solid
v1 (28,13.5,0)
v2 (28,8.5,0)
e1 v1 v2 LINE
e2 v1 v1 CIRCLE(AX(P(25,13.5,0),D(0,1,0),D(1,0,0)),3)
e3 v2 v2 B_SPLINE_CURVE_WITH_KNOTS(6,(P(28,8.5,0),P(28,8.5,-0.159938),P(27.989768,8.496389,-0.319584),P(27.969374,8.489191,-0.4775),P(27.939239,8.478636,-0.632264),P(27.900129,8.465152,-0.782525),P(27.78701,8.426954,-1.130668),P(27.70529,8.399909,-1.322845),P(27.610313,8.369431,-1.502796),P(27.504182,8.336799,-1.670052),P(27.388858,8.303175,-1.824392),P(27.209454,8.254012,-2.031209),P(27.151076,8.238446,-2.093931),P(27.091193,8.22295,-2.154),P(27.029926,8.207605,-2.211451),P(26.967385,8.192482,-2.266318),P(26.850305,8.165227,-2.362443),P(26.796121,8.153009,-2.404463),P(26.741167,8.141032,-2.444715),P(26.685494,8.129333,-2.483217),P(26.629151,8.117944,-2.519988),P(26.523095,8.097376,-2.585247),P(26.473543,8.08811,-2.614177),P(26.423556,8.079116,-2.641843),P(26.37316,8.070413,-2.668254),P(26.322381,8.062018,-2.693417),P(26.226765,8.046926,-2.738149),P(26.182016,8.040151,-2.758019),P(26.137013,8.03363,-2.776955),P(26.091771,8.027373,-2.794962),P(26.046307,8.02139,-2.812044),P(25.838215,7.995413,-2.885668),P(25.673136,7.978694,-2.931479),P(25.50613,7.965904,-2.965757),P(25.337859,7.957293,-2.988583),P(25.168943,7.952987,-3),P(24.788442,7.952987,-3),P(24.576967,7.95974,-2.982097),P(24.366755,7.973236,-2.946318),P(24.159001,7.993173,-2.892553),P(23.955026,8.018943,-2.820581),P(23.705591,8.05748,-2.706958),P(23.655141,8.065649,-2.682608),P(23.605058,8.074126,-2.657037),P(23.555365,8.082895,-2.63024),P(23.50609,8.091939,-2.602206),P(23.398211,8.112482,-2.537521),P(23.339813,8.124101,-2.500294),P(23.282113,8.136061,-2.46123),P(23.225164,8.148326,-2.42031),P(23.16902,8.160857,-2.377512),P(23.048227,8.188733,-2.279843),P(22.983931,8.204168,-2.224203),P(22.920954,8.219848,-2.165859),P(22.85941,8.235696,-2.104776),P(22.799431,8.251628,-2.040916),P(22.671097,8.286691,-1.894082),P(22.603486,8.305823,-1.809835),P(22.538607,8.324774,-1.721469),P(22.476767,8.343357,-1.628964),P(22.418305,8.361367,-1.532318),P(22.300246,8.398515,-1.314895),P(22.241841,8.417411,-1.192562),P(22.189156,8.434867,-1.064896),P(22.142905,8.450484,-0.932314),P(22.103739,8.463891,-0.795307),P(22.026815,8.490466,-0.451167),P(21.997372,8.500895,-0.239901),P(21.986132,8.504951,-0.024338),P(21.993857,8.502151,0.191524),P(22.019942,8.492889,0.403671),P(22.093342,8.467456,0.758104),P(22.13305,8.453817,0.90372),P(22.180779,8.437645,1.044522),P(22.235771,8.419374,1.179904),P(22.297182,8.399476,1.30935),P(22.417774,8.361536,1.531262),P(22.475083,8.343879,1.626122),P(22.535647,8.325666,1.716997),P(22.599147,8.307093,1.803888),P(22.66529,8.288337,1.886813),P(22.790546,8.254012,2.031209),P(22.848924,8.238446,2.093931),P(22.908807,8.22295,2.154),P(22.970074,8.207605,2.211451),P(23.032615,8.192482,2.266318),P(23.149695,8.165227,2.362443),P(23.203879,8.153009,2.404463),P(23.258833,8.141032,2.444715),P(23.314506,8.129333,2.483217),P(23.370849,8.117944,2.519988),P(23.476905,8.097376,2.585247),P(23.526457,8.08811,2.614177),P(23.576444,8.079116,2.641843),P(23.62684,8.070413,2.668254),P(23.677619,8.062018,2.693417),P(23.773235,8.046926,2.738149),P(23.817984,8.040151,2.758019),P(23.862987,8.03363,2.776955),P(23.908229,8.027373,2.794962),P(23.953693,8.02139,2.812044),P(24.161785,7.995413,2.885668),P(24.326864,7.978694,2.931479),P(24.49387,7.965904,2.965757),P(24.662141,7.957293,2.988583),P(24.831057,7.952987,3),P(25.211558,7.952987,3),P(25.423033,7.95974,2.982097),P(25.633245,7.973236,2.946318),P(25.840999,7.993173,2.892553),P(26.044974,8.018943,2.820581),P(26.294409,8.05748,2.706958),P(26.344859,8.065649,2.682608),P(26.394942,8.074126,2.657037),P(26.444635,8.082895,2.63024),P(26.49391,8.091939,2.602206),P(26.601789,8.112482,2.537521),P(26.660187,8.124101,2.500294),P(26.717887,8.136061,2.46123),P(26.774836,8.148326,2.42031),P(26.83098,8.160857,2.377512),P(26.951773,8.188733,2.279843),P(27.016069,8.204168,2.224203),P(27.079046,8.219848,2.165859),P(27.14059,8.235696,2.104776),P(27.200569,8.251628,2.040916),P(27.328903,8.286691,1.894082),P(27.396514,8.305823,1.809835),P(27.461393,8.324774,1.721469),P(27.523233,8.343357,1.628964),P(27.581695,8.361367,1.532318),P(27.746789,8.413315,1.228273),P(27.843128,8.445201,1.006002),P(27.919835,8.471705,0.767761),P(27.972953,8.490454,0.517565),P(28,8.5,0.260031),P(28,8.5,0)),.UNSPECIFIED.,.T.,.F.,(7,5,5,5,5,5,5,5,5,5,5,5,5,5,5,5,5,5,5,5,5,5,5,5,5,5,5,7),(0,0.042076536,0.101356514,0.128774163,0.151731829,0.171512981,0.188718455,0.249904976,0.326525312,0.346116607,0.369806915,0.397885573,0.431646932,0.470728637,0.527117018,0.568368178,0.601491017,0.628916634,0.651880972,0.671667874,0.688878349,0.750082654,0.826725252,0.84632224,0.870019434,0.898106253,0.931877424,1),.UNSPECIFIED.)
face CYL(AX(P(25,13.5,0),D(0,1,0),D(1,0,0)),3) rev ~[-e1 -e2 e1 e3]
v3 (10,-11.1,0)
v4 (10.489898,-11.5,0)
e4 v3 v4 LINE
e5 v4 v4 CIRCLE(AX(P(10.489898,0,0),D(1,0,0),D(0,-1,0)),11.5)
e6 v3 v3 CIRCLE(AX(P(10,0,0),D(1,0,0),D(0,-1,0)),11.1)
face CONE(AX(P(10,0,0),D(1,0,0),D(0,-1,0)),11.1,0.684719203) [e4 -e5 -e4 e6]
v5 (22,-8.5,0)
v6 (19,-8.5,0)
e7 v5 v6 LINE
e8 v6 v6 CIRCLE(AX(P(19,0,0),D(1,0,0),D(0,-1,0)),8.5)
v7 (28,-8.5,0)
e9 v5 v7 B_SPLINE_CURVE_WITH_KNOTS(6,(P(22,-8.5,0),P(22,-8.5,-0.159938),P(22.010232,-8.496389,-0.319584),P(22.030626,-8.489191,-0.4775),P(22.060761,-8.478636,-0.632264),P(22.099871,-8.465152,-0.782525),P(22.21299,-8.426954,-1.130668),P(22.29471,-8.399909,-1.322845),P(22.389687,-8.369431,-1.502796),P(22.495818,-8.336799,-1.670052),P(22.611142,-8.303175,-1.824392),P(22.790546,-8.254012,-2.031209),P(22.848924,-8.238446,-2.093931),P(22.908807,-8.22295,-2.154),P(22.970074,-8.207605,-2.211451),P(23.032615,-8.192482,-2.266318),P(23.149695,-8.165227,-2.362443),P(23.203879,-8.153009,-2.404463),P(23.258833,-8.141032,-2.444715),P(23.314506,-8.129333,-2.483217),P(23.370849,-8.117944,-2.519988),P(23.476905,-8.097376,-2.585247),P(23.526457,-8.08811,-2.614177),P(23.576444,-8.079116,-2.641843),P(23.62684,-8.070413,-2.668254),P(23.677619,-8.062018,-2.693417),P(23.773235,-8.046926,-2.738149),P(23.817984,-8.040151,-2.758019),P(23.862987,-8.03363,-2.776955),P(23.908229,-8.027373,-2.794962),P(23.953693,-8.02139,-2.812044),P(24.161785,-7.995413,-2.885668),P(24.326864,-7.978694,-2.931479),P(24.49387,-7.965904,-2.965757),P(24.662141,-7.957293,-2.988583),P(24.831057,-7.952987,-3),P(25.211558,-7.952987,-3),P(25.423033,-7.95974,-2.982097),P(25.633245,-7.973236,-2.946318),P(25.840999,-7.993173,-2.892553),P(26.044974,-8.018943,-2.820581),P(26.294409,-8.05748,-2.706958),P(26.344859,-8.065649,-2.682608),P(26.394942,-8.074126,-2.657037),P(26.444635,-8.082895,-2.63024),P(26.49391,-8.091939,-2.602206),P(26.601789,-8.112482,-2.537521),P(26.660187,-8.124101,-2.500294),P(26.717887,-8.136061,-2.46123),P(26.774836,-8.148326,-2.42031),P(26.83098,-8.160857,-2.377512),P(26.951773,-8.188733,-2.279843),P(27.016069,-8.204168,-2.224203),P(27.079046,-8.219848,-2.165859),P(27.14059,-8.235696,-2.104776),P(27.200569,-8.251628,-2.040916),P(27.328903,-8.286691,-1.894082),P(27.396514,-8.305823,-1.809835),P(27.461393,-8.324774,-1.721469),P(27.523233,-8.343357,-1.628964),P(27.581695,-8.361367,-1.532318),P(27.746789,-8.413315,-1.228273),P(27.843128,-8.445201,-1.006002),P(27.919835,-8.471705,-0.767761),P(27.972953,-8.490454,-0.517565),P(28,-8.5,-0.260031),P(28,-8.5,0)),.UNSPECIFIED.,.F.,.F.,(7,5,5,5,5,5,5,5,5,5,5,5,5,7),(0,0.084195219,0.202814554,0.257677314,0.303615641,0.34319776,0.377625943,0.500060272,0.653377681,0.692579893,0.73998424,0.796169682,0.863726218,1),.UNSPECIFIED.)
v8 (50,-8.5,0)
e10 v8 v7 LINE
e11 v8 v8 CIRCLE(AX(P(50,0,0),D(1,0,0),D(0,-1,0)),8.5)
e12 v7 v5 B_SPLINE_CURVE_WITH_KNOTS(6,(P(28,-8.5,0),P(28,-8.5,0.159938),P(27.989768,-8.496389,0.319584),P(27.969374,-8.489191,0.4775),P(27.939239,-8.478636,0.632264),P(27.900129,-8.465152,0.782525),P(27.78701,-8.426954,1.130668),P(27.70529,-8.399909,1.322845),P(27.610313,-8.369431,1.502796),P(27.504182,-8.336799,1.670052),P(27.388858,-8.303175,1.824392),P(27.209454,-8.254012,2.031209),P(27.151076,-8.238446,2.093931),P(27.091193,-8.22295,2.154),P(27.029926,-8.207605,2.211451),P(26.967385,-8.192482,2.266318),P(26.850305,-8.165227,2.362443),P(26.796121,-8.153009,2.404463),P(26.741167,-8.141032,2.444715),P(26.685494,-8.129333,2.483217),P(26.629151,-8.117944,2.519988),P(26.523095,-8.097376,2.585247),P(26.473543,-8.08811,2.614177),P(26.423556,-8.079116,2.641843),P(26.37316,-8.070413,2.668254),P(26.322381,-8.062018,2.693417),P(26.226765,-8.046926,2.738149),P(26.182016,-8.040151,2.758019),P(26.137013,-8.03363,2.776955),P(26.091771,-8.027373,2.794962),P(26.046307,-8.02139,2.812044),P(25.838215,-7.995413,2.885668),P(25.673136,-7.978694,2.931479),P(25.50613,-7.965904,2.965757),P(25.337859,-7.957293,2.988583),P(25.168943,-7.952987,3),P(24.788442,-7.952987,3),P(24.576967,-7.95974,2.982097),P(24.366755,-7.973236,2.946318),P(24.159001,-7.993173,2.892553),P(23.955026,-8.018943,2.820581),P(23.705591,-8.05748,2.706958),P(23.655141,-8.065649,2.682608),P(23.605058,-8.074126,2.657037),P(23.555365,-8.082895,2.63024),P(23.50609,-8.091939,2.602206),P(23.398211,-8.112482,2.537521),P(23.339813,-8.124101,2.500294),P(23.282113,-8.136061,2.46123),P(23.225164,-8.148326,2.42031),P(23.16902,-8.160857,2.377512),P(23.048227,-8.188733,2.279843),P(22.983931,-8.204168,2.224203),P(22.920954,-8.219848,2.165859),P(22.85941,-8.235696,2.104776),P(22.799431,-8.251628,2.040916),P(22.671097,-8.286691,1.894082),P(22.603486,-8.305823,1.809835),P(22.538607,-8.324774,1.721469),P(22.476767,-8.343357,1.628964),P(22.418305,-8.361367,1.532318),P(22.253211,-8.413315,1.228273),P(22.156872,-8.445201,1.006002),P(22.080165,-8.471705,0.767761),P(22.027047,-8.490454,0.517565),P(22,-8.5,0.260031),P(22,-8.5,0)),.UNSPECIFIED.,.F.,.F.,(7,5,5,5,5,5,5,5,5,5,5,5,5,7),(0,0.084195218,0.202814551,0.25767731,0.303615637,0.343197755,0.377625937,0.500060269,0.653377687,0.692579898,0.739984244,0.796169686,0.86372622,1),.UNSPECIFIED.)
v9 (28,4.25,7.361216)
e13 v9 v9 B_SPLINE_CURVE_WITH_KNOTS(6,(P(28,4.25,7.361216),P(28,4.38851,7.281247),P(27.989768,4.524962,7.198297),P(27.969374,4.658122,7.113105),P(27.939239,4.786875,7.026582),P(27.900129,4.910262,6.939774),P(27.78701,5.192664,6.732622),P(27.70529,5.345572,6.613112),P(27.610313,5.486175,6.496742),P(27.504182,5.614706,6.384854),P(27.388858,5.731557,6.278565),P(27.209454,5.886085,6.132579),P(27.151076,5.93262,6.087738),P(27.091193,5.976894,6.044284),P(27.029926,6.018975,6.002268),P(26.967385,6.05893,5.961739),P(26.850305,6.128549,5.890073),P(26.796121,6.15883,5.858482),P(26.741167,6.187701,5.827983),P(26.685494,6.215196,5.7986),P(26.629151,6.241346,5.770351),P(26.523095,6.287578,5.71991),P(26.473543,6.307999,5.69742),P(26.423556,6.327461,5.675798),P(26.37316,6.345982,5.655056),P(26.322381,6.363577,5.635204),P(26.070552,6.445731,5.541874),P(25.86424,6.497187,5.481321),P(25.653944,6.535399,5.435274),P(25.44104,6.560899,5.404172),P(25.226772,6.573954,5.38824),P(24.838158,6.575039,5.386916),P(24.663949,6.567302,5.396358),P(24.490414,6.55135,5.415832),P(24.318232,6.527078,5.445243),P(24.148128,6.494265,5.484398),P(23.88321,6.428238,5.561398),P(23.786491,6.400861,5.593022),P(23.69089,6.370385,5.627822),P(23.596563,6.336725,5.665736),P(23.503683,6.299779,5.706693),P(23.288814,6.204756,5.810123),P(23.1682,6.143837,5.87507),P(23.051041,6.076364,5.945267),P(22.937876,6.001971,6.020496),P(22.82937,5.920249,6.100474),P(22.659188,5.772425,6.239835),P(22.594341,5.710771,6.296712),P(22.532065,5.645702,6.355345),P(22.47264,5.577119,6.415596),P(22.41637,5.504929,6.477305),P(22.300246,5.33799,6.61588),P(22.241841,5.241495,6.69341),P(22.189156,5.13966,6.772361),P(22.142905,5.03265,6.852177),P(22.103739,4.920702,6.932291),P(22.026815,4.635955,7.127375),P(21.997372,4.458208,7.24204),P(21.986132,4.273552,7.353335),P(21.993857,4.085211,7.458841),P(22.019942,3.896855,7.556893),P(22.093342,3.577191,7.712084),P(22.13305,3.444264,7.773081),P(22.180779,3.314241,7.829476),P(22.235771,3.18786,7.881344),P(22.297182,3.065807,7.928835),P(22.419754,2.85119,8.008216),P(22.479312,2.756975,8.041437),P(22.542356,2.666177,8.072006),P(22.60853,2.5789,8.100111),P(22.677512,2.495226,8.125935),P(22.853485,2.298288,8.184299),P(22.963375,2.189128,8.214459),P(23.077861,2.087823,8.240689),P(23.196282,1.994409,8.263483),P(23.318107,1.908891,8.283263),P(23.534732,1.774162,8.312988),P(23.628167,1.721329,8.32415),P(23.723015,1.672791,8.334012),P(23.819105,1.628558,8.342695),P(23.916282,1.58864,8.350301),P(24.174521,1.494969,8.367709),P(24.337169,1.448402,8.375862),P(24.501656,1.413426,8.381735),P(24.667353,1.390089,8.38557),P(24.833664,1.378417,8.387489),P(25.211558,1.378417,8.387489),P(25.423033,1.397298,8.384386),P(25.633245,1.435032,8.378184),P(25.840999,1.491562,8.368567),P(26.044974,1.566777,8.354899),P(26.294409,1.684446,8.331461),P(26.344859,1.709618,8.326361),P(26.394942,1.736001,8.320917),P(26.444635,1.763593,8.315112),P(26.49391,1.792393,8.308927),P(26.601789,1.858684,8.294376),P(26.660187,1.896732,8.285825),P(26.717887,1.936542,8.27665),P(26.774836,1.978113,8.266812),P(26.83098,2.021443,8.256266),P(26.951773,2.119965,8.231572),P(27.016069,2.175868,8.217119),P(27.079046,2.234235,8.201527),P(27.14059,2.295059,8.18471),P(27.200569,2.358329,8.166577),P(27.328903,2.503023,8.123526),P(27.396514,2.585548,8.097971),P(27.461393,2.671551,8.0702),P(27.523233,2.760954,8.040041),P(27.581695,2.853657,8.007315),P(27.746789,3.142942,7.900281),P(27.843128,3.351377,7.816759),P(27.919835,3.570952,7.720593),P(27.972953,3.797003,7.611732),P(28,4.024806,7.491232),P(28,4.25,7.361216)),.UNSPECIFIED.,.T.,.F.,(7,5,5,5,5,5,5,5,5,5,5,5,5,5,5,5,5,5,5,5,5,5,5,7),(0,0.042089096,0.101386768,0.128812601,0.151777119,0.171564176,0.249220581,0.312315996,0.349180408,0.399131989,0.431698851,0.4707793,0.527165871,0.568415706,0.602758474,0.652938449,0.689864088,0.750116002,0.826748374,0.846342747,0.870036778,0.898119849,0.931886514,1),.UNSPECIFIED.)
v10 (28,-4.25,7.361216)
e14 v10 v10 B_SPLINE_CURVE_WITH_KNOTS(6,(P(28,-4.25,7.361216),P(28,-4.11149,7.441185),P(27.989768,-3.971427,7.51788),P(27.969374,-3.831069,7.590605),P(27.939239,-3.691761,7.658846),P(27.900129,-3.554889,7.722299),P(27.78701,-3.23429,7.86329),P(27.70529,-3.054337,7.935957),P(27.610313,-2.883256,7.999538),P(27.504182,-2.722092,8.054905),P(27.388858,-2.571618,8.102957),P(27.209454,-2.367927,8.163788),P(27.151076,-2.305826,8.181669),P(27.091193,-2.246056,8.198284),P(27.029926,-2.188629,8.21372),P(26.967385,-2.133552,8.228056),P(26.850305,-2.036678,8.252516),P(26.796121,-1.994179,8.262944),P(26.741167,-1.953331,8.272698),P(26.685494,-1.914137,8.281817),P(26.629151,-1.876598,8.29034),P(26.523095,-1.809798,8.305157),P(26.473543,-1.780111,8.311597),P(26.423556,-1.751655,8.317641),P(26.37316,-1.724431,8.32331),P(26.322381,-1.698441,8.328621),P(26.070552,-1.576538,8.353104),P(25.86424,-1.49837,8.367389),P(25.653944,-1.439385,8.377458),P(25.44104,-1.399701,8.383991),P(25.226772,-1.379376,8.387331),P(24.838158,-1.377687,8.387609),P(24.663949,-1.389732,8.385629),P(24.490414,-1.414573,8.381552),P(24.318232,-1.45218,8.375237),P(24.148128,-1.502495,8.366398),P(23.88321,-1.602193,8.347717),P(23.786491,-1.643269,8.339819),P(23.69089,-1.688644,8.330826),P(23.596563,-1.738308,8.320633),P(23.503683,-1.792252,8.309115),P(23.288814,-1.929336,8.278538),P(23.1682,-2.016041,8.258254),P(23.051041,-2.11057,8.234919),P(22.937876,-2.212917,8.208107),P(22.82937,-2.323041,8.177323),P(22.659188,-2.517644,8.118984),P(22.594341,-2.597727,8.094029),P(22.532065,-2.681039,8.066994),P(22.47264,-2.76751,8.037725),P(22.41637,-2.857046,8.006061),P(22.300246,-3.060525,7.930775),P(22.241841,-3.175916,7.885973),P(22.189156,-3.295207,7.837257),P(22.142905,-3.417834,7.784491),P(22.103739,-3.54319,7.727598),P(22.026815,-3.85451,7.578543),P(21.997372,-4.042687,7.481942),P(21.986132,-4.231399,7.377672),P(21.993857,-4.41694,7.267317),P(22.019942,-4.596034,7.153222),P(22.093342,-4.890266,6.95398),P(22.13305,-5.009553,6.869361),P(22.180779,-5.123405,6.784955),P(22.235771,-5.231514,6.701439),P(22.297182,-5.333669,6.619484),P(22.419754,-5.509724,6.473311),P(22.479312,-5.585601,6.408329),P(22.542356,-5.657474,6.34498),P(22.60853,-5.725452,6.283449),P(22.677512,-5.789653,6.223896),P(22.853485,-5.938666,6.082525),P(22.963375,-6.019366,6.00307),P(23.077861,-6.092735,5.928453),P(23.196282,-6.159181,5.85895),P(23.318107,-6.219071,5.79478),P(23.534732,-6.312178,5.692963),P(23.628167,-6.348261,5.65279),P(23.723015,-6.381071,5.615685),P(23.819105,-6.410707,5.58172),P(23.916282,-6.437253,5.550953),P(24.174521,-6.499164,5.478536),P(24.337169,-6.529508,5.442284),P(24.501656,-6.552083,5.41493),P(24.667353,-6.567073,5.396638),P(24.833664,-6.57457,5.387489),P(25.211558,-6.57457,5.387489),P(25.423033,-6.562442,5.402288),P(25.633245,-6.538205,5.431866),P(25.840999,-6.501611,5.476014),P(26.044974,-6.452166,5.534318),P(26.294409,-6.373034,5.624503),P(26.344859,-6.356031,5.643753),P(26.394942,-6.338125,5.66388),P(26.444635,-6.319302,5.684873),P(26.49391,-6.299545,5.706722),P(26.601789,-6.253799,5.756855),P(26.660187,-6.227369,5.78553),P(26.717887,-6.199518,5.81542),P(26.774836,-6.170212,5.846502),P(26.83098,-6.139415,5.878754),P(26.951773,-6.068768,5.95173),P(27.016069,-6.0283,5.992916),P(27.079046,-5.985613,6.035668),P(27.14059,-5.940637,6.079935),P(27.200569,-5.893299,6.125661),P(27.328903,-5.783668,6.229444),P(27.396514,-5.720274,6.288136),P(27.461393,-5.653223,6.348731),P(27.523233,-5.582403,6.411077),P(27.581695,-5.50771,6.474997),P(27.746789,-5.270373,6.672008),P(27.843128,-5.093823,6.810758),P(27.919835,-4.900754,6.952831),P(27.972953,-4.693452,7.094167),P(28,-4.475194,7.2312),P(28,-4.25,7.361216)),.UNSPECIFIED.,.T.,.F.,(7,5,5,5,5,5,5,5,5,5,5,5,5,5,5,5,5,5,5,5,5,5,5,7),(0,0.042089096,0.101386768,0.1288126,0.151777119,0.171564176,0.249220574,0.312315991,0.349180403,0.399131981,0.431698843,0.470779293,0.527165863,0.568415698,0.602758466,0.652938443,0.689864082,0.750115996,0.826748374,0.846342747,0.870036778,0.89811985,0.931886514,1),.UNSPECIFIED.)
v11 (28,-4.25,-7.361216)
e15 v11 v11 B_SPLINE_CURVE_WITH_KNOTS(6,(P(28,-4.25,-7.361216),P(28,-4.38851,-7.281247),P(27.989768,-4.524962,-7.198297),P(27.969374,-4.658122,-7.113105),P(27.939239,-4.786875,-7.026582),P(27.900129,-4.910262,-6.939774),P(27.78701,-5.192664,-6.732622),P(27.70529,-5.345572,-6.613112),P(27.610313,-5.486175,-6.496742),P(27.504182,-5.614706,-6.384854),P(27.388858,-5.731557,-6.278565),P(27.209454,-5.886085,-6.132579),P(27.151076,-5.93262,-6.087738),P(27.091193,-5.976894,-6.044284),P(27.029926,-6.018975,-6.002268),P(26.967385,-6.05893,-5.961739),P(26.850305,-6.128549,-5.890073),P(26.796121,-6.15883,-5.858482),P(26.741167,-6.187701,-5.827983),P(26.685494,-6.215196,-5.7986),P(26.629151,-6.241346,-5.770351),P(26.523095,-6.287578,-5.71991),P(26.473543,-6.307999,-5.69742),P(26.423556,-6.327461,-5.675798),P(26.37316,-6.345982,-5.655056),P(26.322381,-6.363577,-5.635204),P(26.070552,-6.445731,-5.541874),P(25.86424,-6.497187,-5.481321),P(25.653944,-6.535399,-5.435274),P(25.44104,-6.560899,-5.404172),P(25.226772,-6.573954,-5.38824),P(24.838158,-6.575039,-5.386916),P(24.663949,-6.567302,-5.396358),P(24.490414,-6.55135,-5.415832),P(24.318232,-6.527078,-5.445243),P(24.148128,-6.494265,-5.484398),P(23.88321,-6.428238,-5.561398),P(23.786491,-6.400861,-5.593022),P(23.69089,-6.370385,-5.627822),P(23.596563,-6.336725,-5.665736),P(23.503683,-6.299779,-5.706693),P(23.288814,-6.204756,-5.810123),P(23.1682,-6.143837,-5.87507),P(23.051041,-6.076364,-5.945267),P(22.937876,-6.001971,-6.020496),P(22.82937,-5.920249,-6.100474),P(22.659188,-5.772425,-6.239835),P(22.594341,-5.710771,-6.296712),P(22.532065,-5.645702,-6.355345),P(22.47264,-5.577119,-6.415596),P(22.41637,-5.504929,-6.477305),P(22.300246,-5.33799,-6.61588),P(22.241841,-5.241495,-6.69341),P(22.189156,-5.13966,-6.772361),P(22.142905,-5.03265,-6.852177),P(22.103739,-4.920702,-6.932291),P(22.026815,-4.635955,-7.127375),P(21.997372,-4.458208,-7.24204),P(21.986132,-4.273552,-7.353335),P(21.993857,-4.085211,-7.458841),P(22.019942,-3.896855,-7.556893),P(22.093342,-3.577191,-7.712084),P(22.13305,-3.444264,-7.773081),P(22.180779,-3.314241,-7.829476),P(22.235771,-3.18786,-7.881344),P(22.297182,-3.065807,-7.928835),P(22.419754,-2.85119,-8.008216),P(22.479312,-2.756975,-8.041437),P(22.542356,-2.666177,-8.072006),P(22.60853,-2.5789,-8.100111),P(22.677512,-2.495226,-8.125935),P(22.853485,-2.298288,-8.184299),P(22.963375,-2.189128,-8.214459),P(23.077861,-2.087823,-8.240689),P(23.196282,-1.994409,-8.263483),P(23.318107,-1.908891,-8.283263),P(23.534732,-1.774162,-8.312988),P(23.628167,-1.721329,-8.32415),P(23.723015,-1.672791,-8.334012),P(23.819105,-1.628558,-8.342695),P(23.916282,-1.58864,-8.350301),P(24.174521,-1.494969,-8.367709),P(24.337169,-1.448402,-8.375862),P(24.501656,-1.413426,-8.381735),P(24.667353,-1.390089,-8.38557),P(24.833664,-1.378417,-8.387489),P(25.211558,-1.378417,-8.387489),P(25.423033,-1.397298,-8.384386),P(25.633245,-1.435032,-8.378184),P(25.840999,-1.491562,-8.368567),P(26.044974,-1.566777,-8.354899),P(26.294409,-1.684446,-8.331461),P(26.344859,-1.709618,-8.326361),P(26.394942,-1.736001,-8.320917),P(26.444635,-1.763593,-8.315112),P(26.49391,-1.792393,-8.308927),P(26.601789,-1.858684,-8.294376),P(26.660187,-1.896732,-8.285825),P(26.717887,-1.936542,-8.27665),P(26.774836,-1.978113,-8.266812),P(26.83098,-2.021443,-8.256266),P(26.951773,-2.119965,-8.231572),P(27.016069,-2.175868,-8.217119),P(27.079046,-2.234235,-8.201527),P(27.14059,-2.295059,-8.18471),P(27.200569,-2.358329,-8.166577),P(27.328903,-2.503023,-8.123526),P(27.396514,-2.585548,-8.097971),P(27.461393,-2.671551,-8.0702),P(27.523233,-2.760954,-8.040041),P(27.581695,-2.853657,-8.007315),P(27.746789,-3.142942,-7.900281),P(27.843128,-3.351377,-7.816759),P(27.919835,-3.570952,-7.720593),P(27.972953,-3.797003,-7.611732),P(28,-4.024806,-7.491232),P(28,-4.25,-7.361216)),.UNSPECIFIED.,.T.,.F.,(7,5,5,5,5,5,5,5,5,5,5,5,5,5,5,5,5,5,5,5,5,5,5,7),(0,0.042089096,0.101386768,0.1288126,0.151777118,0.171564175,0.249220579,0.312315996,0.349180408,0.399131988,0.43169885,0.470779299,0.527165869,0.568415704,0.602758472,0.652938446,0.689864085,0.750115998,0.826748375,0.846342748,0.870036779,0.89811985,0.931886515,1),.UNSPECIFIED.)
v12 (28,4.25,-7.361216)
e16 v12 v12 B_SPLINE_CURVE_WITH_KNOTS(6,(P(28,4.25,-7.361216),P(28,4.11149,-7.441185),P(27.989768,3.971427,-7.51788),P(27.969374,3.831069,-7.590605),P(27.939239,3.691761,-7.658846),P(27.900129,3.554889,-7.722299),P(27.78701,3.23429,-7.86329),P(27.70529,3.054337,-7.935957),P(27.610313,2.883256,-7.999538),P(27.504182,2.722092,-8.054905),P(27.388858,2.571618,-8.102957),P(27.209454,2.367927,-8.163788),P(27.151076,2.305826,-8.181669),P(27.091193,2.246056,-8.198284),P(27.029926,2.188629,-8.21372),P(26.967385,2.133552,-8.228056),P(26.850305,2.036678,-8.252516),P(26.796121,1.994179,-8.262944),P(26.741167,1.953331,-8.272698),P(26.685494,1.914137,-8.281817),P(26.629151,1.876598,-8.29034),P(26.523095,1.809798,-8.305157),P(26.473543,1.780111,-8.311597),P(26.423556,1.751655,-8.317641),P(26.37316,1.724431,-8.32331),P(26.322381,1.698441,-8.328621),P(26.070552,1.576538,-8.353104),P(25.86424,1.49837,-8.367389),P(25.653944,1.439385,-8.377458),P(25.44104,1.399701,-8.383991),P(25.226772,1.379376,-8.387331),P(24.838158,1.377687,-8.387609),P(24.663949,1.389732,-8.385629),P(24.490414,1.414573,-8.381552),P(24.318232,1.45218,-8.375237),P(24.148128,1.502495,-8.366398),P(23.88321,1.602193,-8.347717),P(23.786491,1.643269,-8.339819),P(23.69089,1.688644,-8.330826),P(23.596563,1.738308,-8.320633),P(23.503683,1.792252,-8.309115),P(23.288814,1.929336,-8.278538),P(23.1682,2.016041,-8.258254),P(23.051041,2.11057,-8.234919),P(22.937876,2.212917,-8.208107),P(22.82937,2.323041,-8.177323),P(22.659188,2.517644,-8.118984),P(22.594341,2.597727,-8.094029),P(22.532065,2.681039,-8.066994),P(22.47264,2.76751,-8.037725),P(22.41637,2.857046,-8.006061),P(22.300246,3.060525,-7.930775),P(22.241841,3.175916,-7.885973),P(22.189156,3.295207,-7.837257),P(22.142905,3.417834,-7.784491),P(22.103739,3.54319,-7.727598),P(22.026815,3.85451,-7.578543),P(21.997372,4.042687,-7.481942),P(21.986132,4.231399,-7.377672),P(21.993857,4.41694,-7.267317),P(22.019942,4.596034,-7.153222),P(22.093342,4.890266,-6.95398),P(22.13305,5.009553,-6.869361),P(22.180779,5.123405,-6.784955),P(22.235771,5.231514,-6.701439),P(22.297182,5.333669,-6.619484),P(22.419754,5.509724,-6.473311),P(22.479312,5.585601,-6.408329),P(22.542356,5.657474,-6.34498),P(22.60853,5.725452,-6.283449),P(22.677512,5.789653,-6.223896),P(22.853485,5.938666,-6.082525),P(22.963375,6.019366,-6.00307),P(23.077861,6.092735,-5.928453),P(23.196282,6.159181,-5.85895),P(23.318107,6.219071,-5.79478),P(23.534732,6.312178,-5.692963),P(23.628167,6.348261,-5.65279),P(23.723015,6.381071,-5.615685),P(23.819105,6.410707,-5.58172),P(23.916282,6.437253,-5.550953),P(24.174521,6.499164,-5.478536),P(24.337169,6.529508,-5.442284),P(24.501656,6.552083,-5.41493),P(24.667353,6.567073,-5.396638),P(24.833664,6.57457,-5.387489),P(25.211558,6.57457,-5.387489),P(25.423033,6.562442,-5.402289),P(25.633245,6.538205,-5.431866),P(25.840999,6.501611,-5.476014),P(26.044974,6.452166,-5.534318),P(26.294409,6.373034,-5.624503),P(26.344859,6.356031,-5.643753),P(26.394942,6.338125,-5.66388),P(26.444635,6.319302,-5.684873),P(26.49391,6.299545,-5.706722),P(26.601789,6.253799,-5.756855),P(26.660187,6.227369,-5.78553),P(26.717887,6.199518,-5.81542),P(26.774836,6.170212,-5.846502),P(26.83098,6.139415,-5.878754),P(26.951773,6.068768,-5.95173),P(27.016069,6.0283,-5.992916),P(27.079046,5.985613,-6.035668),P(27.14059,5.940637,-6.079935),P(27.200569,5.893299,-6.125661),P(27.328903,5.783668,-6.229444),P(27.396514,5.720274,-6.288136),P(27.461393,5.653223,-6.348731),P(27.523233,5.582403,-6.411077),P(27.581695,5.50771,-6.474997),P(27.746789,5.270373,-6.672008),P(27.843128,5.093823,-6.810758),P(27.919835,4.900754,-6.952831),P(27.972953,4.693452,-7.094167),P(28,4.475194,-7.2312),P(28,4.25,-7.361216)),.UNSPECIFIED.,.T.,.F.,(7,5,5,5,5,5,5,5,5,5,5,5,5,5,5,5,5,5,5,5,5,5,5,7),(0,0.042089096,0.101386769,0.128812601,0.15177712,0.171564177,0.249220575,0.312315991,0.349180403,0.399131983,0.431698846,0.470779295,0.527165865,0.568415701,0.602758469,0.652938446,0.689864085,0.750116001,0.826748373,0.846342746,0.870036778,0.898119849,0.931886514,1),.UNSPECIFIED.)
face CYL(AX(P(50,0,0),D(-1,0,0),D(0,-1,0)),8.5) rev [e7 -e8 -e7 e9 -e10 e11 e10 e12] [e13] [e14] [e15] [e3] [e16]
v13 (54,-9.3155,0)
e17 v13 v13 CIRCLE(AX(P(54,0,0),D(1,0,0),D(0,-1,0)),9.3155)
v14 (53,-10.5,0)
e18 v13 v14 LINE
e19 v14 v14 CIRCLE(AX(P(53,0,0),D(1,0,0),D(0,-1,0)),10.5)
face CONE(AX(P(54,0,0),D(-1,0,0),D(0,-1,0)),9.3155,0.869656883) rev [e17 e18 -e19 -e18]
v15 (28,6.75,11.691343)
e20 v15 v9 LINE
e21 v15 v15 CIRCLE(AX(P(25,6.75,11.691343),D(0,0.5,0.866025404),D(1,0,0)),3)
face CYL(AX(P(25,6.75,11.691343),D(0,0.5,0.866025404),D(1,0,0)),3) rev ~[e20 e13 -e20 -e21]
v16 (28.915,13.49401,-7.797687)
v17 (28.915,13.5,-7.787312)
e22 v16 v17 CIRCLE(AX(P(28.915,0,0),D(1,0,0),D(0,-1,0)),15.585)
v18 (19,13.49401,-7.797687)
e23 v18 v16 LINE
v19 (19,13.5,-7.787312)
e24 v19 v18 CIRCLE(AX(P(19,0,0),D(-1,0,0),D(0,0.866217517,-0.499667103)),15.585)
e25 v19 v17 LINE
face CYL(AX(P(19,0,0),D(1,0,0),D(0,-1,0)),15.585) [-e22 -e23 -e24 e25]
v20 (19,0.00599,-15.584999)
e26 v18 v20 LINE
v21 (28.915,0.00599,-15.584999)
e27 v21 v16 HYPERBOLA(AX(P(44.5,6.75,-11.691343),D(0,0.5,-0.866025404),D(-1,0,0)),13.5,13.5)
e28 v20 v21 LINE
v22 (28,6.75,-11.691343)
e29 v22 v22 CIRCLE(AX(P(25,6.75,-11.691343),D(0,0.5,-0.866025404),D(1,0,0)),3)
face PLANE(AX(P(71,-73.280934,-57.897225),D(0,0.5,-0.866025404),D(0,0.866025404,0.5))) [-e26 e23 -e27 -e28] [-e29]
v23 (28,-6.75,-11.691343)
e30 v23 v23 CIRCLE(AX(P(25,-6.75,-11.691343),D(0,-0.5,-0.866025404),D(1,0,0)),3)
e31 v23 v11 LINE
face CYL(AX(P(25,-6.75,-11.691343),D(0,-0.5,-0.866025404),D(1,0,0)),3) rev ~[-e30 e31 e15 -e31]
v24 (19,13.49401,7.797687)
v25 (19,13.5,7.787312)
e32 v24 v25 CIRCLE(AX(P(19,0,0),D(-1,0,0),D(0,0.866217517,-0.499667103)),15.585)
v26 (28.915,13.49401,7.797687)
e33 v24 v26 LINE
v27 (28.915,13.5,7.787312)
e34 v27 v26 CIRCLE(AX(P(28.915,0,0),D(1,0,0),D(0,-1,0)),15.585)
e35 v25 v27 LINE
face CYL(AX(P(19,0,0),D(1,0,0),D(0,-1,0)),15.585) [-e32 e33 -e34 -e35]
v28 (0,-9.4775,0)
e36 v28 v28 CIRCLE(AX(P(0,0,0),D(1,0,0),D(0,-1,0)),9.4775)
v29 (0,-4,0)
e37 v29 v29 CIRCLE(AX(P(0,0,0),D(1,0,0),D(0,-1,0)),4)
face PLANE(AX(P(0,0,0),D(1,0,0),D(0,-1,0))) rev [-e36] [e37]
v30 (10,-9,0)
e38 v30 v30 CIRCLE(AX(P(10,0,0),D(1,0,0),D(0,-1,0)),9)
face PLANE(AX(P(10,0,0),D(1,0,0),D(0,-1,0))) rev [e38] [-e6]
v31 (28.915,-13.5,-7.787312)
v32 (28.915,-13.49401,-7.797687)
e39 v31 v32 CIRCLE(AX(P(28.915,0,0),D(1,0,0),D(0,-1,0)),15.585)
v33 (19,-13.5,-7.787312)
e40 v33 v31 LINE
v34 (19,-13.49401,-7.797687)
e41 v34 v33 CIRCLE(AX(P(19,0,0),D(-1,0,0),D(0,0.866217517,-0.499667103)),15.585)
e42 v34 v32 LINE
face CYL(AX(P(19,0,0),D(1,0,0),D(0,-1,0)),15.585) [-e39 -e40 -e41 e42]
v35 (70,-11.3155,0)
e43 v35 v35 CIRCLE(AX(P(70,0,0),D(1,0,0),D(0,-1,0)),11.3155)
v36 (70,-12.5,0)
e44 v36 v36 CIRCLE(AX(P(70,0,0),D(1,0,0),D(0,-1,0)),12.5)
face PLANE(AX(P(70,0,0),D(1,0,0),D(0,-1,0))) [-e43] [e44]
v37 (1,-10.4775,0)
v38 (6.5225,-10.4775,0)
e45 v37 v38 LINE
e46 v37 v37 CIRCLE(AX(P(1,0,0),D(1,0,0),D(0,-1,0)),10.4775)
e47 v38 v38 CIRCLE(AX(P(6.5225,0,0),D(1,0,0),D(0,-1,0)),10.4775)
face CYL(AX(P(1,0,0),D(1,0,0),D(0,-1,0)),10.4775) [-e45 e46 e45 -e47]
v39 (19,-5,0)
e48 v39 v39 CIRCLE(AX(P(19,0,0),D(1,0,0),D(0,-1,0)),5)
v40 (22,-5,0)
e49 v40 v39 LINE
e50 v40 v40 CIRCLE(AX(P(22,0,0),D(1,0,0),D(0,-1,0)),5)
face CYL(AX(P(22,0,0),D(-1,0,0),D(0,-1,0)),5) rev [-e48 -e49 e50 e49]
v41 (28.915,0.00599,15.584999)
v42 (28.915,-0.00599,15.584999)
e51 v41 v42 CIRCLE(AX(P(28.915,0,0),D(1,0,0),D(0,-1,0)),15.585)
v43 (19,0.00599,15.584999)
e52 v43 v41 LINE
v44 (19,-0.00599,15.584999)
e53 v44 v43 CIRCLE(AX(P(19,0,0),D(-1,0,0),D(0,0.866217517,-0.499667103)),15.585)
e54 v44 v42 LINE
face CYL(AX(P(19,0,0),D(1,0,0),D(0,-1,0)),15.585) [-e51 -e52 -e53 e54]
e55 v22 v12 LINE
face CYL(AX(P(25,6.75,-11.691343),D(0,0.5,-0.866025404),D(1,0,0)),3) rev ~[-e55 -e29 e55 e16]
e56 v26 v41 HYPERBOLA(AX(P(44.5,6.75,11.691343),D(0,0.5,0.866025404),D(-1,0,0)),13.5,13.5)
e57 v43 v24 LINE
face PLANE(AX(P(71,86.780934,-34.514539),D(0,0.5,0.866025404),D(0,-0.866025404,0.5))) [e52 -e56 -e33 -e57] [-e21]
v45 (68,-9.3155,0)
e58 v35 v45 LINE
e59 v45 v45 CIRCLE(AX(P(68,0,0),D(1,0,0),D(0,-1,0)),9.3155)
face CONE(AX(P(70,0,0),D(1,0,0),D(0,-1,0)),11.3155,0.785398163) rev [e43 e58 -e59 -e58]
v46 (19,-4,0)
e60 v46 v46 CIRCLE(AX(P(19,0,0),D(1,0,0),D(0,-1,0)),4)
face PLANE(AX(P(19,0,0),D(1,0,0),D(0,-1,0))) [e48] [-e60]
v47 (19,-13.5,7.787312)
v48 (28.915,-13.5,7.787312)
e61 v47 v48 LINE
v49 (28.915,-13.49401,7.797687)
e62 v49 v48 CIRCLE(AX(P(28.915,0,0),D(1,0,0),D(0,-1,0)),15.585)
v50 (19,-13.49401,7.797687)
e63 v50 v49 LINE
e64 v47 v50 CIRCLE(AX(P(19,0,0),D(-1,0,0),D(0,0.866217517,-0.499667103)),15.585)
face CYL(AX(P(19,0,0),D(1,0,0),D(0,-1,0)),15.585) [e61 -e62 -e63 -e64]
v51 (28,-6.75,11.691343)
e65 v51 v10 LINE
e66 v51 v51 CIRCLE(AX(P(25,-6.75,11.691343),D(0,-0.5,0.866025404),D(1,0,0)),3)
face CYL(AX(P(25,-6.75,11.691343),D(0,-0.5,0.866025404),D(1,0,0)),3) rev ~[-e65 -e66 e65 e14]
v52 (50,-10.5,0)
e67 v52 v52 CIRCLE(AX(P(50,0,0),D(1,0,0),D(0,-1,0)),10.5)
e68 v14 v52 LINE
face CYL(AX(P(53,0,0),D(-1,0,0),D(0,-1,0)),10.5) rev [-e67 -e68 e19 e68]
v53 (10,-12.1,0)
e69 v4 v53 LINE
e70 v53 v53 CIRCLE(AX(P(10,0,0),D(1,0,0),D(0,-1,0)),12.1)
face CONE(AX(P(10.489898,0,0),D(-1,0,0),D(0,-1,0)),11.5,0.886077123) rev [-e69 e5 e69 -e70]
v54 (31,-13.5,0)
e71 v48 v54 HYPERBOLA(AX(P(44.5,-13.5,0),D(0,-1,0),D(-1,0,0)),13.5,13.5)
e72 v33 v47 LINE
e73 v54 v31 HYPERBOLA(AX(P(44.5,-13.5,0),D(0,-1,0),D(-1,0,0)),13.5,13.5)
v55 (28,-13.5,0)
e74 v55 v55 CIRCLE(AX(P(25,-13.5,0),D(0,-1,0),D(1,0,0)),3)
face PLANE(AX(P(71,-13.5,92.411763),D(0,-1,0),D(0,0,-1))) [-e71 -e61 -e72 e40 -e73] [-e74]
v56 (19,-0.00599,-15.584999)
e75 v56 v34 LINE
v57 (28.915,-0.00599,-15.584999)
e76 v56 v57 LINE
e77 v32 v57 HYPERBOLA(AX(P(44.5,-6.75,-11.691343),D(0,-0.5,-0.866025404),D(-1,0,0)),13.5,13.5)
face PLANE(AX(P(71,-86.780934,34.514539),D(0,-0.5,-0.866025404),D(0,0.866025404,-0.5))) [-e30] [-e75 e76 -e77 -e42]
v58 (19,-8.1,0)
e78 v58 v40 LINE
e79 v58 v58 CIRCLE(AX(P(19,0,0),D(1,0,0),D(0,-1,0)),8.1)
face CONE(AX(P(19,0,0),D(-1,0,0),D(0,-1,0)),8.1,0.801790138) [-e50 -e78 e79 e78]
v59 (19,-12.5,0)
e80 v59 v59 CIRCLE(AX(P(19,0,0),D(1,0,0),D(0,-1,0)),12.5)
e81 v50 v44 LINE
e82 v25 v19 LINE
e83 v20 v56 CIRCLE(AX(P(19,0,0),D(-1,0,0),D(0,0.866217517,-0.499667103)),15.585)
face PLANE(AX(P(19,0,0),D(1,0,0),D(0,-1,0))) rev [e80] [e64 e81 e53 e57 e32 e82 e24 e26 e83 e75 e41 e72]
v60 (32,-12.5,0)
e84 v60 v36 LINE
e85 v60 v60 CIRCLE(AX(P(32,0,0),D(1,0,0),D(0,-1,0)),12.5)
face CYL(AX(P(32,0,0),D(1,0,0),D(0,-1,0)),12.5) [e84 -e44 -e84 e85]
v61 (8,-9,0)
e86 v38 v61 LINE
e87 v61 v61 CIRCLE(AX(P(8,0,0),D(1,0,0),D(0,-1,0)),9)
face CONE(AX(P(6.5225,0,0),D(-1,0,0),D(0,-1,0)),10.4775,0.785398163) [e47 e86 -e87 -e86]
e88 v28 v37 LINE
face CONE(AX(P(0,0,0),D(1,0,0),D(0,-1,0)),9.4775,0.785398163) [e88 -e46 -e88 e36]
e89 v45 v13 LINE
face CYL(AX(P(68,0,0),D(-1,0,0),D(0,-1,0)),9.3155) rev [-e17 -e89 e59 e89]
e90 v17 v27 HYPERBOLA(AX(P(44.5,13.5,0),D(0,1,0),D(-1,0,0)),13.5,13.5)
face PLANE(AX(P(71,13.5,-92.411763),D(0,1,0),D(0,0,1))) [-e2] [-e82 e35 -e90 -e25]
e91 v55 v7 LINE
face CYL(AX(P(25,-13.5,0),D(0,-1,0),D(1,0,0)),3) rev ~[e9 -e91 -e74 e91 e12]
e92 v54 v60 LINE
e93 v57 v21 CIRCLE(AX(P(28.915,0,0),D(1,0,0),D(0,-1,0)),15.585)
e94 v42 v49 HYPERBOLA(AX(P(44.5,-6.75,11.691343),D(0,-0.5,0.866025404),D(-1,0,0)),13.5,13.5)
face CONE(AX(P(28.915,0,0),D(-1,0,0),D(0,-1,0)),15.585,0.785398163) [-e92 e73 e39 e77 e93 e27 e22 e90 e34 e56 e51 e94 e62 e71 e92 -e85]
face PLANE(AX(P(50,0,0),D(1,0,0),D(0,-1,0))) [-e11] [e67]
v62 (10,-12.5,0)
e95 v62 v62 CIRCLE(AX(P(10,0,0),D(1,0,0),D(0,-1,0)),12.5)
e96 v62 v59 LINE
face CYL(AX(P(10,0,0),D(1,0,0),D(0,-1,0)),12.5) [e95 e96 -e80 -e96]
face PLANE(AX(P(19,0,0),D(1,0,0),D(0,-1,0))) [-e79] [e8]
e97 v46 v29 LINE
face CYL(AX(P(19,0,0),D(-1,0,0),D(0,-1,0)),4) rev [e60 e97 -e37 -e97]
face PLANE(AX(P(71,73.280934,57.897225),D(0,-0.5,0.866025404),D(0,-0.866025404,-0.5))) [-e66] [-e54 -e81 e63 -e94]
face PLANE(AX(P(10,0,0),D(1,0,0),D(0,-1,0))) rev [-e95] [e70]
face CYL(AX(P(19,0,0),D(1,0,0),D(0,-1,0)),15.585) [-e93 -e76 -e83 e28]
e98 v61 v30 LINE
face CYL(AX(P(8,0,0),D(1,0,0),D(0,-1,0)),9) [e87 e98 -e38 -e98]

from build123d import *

# Parameters (mm, degrees)
WYTNIJ_WYCI_GNI_CIE1_START = -52
WYTNIJ_WYCI_GNI_CIE1_DEPTH = 72
SZKIC3_R                   = 3
WYTNIJ_WYCI_GNI_CIE2_DEPTH = 12
SZYK_KO_OWY1_COUNT         = 6


with BuildPart() as part:
    # Szkic1 → Obrót1 (revolve)
    with BuildSketch(Plane.XY):
        Polygon((0, -4), (0, -9.4775), (1, -10.4775), (6.5225, -10.4775), (8, -9), (10, -9), (10, -11.1), (10.489897949, -11.5), (10, -12.1), (10, -12.5), (19, -12.5), (19, -15.585), (28.915, -15.585), (32, -12.5), (70, -12.5), (70, -11.3155), (68, -9.3155), (54, -9.3155), (53, -10.5), (50, -10.5), (50, -8.5), (19, -8.5), (19, -8.1), (22, -5), (19, -5), (19, -4), align=None)
    revolve(axis=Axis((0, 0, 0), (1, 0, 0)))

    # Szkic2 → Wytnij-wyciągnięcie1 (cut)
    with BuildSketch(Plane.ZY.offset(-19).offset(WYTNIJ_WYCI_GNI_CIE1_START)):
        Polygon((-92.411763114, 13.5), (-7.787311795, 13.5), (7.787311795, 13.5), (92.411763114, 13.5), (92.411763114, 182.748902638), (-92.411763114, 182.748902638), align=None)
    wytnij_wyci_gni_cie1 = extrude(amount=WYTNIJ_WYCI_GNI_CIE1_DEPTH, mode=Mode.SUBTRACT)

    # Szkic3 → Wytnij-wyciągnięcie2 (cut)
    with BuildSketch(Plane(origin=(0, 13.5, 0), x_dir=(1, 0, 0), z_dir=(0, 1, 0))):
        with Locations((25, 0)):
            Circle(SZKIC3_R)
    wytnij_wyci_gni_cie2 = extrude(amount=-WYTNIJ_WYCI_GNI_CIE2_DEPTH, mode=Mode.SUBTRACT)

    # Szyk kołowy1: Wytnij-wyciągnięcie1, Wytnij-wyciągnięcie2 ×6 about axis
    szyk_ko_owy1_axis = Axis((0, 0, 0), (-1, 0, 0))
    for i in range(1, SZYK_KO_OWY1_COUNT):
        add(wytnij_wyci_gni_cie1.rotate(szyk_ko_owy1_axis, i * 360 / SZYK_KO_OWY1_COUNT), mode=Mode.SUBTRACT)
        add(wytnij_wyci_gni_cie2.rotate(szyk_ko_owy1_axis, i * 360 / SZYK_KO_OWY1_COUNT), mode=Mode.SUBTRACT)


solid = part.part
